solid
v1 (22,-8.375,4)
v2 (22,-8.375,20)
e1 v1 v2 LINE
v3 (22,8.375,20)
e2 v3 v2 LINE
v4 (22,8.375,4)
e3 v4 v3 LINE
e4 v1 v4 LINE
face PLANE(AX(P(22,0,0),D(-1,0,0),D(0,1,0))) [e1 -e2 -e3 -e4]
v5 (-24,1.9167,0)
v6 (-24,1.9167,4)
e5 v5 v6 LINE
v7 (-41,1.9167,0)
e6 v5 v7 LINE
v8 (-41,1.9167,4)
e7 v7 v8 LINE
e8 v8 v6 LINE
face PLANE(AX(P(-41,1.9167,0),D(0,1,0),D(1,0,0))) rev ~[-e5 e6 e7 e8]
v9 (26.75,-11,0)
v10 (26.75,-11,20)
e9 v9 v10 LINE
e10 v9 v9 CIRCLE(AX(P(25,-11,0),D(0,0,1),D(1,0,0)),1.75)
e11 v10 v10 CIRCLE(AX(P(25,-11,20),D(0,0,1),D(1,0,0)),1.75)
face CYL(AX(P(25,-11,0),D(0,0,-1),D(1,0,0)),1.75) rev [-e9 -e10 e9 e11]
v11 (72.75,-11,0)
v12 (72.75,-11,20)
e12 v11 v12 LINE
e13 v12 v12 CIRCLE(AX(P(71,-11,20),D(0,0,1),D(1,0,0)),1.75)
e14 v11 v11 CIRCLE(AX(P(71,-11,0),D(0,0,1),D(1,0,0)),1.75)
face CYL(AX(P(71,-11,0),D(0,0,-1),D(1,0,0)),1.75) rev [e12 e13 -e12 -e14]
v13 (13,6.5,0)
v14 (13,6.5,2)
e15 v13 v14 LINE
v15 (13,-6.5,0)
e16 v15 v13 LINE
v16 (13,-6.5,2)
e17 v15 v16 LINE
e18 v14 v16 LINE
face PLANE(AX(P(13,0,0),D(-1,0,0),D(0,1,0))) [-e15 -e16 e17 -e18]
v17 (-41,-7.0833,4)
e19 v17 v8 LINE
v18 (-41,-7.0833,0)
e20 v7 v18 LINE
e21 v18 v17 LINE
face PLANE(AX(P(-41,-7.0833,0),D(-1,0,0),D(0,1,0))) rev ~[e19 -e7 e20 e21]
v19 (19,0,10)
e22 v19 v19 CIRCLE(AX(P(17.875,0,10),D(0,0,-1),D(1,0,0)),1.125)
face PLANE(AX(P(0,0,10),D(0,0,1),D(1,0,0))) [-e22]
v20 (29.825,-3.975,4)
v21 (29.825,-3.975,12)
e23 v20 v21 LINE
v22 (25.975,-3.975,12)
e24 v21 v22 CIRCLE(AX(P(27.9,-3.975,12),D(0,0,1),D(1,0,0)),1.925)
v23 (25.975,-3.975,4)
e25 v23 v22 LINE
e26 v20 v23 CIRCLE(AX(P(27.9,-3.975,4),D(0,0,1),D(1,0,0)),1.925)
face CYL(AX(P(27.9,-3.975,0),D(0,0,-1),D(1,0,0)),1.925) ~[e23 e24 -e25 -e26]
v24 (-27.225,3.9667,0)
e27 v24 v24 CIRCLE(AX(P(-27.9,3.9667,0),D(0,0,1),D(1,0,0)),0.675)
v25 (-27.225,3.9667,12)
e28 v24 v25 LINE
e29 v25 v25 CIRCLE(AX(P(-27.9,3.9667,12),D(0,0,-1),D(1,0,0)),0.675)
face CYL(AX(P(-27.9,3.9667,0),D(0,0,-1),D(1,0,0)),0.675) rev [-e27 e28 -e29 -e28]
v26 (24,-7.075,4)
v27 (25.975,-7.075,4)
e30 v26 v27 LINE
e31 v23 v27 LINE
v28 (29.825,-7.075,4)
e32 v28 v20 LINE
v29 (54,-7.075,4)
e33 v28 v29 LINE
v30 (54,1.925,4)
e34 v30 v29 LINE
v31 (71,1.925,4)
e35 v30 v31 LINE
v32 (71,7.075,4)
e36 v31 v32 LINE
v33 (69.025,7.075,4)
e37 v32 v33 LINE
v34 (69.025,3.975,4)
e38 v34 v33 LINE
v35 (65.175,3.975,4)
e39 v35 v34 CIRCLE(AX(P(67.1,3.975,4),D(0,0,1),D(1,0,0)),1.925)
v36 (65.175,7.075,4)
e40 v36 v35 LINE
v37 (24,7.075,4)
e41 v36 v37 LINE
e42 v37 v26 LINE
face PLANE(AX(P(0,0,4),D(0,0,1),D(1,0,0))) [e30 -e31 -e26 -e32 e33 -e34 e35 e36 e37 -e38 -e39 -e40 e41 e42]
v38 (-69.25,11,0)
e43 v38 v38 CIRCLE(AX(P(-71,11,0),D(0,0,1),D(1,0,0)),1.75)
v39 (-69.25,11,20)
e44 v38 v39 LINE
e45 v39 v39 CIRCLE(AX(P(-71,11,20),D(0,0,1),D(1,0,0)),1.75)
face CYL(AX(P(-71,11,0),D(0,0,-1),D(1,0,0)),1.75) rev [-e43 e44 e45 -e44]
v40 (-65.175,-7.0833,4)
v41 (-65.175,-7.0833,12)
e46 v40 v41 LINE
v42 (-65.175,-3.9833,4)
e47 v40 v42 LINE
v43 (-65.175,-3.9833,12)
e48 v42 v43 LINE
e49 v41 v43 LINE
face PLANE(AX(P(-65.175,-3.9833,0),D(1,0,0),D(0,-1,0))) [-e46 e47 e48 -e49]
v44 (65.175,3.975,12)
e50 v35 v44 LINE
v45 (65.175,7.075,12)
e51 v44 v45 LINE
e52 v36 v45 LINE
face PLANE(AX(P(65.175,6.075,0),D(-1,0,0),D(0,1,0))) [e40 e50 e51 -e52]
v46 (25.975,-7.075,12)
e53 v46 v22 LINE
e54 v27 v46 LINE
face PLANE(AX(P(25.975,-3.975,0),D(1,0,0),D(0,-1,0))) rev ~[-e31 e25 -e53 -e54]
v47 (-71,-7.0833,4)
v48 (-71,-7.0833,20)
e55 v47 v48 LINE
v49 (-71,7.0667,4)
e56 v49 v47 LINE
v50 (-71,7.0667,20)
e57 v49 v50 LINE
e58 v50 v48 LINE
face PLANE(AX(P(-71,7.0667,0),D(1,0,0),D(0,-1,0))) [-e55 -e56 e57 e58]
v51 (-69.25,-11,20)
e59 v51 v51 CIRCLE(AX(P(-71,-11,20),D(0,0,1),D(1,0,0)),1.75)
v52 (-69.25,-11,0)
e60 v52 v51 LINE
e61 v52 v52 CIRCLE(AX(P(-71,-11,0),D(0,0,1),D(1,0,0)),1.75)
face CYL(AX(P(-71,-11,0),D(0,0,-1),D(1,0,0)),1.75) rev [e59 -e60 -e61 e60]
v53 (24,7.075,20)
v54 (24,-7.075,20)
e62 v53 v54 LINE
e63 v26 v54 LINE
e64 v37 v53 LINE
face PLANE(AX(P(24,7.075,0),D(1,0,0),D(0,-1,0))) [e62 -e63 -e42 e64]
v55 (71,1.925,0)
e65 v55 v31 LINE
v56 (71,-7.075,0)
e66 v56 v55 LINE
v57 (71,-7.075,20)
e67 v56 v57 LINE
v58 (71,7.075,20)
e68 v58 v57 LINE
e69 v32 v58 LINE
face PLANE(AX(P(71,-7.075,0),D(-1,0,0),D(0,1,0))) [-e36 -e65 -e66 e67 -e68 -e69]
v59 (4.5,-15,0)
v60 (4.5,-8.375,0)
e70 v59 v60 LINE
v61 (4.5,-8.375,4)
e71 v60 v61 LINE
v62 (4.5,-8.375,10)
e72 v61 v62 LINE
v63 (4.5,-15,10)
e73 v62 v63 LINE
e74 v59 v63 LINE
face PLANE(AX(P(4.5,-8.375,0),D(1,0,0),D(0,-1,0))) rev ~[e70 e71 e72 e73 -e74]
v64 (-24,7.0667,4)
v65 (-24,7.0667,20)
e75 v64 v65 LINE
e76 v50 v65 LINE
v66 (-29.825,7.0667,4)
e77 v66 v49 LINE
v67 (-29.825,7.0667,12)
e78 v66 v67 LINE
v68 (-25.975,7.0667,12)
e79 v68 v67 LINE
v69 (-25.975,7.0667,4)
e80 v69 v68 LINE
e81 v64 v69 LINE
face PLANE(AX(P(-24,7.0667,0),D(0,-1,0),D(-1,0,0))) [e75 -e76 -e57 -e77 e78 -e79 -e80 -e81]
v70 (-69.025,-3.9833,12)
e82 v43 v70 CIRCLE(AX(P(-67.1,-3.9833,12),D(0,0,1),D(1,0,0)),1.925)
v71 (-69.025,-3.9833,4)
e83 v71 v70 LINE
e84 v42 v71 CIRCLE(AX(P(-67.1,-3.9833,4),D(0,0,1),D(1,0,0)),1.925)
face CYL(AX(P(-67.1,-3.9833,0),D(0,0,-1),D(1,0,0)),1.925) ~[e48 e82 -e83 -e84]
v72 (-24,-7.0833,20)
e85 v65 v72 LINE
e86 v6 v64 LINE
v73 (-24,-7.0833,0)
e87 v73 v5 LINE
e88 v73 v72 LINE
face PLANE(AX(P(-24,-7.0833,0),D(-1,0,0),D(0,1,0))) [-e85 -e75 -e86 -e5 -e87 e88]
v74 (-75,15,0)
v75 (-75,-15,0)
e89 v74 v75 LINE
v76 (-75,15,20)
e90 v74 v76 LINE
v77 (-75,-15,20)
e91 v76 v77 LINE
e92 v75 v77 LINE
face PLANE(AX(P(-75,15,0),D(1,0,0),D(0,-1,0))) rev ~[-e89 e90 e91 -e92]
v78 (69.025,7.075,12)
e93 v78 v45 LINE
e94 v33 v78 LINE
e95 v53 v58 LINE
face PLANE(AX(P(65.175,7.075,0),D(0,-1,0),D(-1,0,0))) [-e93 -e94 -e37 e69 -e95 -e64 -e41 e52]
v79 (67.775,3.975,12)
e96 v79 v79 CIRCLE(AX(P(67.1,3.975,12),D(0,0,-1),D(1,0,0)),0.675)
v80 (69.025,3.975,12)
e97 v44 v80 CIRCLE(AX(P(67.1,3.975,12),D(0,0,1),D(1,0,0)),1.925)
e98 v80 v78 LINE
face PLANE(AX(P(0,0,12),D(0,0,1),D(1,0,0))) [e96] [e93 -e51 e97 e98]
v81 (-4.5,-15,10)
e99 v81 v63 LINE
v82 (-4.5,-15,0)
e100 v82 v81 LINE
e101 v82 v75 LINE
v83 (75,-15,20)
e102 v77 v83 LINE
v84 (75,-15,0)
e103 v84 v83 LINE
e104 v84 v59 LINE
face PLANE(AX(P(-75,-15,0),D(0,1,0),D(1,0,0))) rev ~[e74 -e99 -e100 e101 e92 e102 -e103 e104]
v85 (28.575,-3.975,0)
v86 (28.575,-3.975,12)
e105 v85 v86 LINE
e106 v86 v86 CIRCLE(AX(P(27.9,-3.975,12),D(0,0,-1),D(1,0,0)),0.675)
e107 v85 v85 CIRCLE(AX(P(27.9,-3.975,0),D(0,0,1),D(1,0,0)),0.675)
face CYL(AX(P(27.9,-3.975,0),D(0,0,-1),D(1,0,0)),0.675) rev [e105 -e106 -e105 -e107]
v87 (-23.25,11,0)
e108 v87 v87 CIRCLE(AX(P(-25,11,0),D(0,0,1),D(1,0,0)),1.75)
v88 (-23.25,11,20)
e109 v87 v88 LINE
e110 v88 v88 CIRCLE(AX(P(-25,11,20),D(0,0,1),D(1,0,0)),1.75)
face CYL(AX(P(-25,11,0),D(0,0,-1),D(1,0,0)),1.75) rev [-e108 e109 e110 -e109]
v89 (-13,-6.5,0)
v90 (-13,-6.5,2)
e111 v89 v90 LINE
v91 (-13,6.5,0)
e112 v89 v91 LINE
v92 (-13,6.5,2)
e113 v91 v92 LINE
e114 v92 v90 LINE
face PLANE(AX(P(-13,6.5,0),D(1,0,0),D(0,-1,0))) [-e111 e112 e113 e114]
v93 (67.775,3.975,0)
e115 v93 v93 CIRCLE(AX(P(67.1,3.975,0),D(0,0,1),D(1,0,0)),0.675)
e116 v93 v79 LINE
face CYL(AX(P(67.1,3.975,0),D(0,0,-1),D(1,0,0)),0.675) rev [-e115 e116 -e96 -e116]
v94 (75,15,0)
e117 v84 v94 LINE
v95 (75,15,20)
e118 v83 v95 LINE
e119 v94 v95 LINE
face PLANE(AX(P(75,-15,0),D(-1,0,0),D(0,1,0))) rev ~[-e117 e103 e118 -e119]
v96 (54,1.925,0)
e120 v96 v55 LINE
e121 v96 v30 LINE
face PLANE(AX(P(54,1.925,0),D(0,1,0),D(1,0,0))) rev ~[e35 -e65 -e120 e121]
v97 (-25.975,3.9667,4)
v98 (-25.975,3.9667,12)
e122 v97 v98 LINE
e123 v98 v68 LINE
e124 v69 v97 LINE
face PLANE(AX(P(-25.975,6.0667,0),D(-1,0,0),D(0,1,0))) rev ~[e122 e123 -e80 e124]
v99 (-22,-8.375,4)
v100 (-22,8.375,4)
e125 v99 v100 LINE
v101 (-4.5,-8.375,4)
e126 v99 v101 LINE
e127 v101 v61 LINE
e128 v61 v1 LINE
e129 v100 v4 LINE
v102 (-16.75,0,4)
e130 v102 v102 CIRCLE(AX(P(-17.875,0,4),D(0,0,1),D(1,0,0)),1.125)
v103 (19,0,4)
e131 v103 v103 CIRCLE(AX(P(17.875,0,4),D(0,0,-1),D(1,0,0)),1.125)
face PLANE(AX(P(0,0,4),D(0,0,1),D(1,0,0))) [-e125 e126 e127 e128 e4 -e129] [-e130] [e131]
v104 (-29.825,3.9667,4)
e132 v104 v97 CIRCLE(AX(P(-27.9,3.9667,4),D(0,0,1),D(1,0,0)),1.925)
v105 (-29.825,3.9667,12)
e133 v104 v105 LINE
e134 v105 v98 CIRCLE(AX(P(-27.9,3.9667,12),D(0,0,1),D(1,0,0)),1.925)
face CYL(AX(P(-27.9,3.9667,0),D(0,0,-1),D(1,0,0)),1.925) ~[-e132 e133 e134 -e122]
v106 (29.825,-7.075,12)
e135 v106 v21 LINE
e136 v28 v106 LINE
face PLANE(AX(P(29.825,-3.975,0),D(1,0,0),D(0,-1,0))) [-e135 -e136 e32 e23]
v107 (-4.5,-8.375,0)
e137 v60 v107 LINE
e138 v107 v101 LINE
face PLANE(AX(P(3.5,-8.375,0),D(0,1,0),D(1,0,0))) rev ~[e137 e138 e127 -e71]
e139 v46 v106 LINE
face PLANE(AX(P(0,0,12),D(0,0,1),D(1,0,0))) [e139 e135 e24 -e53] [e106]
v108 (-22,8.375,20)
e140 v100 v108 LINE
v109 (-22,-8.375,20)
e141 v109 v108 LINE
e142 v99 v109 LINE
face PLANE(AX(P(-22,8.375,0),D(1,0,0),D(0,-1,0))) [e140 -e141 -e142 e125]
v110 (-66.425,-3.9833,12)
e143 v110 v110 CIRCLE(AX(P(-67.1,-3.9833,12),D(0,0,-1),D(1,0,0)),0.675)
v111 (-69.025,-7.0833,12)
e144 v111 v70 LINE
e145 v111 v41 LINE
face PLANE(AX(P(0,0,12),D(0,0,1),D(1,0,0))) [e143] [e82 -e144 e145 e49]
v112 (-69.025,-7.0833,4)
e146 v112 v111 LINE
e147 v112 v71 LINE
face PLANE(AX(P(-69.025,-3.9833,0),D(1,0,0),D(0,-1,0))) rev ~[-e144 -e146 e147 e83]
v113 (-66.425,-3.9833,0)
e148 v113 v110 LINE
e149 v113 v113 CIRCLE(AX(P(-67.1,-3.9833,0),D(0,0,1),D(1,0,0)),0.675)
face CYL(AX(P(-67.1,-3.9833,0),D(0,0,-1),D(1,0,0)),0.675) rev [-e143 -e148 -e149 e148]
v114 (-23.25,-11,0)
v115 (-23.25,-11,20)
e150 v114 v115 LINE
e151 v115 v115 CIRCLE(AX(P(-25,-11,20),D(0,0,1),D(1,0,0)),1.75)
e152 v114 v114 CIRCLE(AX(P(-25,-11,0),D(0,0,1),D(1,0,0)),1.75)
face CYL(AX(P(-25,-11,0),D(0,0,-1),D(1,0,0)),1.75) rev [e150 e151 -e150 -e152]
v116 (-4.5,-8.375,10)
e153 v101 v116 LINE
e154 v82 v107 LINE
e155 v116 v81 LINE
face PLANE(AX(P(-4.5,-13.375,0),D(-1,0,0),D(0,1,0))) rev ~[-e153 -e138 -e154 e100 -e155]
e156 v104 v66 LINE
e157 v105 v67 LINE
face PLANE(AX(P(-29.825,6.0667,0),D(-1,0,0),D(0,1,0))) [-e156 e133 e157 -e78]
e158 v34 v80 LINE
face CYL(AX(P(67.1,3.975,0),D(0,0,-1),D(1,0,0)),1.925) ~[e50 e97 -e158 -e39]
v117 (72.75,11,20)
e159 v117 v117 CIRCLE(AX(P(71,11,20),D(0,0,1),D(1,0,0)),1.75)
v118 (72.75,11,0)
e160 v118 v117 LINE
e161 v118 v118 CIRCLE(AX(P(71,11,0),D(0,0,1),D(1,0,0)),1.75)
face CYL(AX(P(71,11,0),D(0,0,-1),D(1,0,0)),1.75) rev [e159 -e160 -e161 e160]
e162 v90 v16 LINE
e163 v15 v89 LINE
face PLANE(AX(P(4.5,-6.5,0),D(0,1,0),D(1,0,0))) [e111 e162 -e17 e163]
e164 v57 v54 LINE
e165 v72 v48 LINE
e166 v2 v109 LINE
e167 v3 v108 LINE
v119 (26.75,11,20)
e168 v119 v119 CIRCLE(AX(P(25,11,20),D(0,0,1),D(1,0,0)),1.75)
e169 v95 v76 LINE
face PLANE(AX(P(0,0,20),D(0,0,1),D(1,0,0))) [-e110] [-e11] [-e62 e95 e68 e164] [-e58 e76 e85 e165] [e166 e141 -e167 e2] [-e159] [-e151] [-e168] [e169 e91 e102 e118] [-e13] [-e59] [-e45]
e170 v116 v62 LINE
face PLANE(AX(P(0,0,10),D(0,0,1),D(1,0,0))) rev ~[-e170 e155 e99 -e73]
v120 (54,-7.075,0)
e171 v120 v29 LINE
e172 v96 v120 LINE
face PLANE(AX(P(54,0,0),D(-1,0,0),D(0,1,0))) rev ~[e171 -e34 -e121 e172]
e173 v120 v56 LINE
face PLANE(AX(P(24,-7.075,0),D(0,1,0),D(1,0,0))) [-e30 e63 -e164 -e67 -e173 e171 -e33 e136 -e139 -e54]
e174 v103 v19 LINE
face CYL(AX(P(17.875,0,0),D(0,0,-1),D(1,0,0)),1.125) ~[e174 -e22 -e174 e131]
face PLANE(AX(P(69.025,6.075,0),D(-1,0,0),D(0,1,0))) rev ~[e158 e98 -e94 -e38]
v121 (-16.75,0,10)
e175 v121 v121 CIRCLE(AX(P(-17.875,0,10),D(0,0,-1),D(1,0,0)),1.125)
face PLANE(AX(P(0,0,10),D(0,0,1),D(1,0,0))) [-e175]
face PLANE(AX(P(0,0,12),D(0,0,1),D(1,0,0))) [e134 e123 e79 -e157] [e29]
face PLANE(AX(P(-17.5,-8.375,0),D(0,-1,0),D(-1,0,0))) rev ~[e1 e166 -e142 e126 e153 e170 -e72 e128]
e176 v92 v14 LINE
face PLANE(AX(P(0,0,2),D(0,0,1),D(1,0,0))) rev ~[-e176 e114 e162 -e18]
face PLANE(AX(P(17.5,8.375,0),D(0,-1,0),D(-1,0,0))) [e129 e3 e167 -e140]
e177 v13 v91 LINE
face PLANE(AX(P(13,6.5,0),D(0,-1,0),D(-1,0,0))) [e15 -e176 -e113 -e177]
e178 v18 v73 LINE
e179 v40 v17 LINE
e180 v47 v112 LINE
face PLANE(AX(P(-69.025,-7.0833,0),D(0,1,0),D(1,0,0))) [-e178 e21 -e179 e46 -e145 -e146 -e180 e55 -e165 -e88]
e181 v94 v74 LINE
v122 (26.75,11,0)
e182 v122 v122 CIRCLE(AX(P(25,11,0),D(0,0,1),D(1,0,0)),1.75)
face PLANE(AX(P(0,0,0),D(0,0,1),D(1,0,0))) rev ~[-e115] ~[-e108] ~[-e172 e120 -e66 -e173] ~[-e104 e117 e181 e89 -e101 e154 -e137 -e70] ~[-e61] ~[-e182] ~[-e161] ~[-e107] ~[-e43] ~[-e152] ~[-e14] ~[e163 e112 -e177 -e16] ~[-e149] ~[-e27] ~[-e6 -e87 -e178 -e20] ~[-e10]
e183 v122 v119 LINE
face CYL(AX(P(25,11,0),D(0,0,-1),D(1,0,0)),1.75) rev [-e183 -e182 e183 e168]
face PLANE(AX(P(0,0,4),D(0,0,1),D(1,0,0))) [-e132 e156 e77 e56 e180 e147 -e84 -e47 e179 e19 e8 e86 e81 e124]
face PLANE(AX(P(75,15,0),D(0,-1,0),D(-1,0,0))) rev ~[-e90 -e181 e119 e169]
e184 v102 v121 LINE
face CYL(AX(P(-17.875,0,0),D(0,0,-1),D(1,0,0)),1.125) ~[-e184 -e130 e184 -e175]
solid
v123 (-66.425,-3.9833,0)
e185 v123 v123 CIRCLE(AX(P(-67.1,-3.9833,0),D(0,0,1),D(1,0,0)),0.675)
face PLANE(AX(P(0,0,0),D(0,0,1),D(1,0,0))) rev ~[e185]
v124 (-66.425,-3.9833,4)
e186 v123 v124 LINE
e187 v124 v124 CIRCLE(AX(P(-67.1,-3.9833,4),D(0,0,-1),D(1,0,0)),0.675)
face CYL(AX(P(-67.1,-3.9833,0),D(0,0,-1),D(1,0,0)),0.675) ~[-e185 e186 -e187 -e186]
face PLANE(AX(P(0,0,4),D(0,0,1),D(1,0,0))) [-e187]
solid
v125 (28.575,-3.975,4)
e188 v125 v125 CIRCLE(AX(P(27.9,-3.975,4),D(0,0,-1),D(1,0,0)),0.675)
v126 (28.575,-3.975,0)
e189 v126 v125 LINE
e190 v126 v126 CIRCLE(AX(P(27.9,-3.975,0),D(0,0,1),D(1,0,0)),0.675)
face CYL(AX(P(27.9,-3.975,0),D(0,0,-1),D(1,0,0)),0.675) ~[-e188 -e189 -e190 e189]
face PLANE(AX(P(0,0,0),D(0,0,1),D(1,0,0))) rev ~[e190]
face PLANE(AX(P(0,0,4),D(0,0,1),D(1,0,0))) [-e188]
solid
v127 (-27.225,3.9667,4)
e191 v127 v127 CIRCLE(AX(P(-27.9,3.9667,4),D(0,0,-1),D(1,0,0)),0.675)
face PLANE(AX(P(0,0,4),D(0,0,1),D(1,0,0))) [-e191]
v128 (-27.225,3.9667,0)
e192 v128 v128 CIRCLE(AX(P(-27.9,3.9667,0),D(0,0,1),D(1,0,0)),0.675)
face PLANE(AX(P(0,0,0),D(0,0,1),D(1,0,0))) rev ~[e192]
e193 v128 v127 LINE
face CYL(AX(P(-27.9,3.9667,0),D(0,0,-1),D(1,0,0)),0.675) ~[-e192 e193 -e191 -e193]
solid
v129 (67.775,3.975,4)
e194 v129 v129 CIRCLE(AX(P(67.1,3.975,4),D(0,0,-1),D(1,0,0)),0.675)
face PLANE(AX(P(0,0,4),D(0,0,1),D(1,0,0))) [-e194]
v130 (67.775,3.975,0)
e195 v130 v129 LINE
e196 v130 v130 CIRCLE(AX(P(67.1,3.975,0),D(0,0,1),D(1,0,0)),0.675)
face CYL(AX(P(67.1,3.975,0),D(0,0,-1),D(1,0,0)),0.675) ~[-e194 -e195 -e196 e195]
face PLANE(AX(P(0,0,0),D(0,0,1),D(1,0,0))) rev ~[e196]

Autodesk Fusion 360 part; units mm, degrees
sketch "Sketch1" plane through (0, 0, 0) normal (0, 0, 1) x (1, 0, 0)
  line L0 (-70, -6.0833) -> (-25, -6.0833)
  line L1 (-25, -6.0833) -> (-25, 6.0667)
  line L2 (-25, 6.0667) -> (-70, 6.0667)
  line L3 (-70, 6.0667) -> (-70, -6.0833)
  circle A0 centre (-27.9, 3.9667) radius 0.925
  line L4 (-70, -0.0083) -> (-25, -0.0083)
  line L5 (-47.5, 6.0667) -> (-47.5, -6.0833)
  circle A1 centre (-67.1, -3.9833) radius 0.925
  line L6 (16.5, 7.375) -> (-16.5, 7.375)
  line L7 (-16.5, -7.375) -> (16.5, -7.375)
  line L8 (16.5, -7.375) -> (16.5, 7.375)
  line L9 (19, 0) -> (21, 0)
  line L10 (16.5, 0) -> (19, 0)
  circle A2 centre (17.875, 0) radius 3.125
  circle A3 centre (17.875, 0) radius 1.125
  line L11 (-16.5, 7.375) -> (-16.5, -7.375)
  line L12 (3.5, -12.375) -> (-3.5, -7.375) construction
  line L13 (-19, 0) -> (-21, 0)
  line L14 (0, 7.375) -> (0, -12.375)
  line L15 (3.5, -7.375) -> (3.5, -12.375)
  line L16 (-3.5, -12.375) -> (3.5, -7.375) construction
  circle A4 centre (-17.875, 0) radius 3.125
  circle A5 centre (-17.875, 0) radius 1.125
  line L17 (-16.5, 0) -> (16.5, 0)
  line L18 (-16.5, 0) -> (-19, 0)
  line L19 (3.5, -12.375) -> (-3.5, -12.375)
  line L20 (-3.5, -7.375) -> (3.5, -7.375)
  line L21 (-3.5, -12.375) -> (-3.5, -7.375)
  line L22 (75, 15) -> (-75, 15)
  line L23 (-75, 15) -> (-75, -15)
  line L24 (-75, -15) -> (75, -15)
  line L25 (75, -15) -> (75, 15)
  line L26 (75, 15) -> (-75, -15) construction
  line L27 (-75, 15) -> (75, -15) construction
  line L28 (-24, 7.0667) -> (-71, 7.0667)
  line L29 (-71, 7.0667) -> (-71, -7.0833)
  line L30 (-71, -7.0833) -> (-24, -7.0833)
  line L31 (-24, -7.0833) -> (-24, 7.0667)
  line L32 (-4.5, -6.375) -> (4.5, -6.375)
  line L33 (4.5, -6.375) -> (4.5, -13.375)
  line L34 (4.5, -13.375) -> (-4.5, -13.375)
  line L35 (-4.5, -13.375) -> (-4.5, -6.375)
  line L36 (-21, 0) -> (-22, 0)
  line L37 (-17.5, -8.375) -> (17.5, -8.375)
  line L38 (17.5, -8.375) -> (17.5, 8.375)
  line L39 (17.5, 8.375) -> (-17.5, 8.375)
  line L40 (-17.5, 8.375) -> (-17.5, -8.375)
  line L41 (-22, 7.375) -> (-22, 0)
  line L42 (-17.5, -8.375) -> (-22, -8.375)
  line L43 (-22, -8.375) -> (-22, 0)
  line L44 (-17.5, 8.375) -> (-22, 8.375)
  line L45 (-22, 8.375) -> (-22, 7.375)
  line L46 (21, 0) -> (22, 0)
  line L47 (22, 0) -> (22, 8.375)
  line L48 (22, 8.375) -> (17.5, 8.375)
  line L49 (22, 0) -> (22, -8.375)
  line L50 (22, -8.375) -> (17.5, -8.375)
  circle A6 centre (-67.1, -3.9833) radius 0.675
  circle A7 centre (-27.9, 3.9667) radius 0.675
  circle A8 centre (-27.9, 3.9667) radius 1.925
  circle A9 centre (-67.1, -3.9833) radius 1.925
  line L51 (12, 5.5) -> (-12, 5.5)
  line L52 (-12, 5.5) -> (-12, -5.5)
  line L53 (-12, -5.5) -> (12, -5.5)
  line L54 (12, -5.5) -> (12, 5.5)
  line L55 (12, 5.5) -> (-12, -5.5) construction
  line L56 (-12, 5.5) -> (12, -5.5) construction
  circle A10 centre (-9.2, 0) radius 1.5
  line L57 (-7.7, 0) -> (-6.7, 0)
  line L58 (-6.7, 0) -> (-6.7, -5.5)
  line L59 (-6.7, 0) -> (-6.7, 5.5)
  line L60 (-13, -6.5) -> (13, -6.5)
  line L61 (13, -6.5) -> (13, 6.5)
  line L62 (13, 6.5) -> (-13, 6.5)
  line L63 (-13, 6.5) -> (-13, -6.5)
  circle A11 centre (-71, -11) radius 1.75
  circle A12 centre (71, -11) radius 1.75
  circle A13 centre (-71, 11) radius 1.75
  circle A14 centre (71, 11) radius 1.75
  circle A15 centre (-25, 11) radius 1.75
  circle A16 centre (25, 11) radius 1.75
  circle A17 centre (-25, -11) radius 1.75
  circle A18 centre (25, -11) radius 1.75
  line L64 (-27.9, 3.9667) -> (-29.825, 3.9667)
  line L65 (-29.825, 3.9667) -> (-29.825, 7.0667)
  line L66 (-27.9, 3.9667) -> (-25.975, 3.9667)
  line L67 (-25.975, 3.9667) -> (-25.975, 7.0667)
  line L68 (-24, -7.0833) -> (-41, -7.0833)
  line L69 (-41, -7.0833) -> (-41, 1.9167)
  line L70 (-41, 1.9167) -> (-24, 1.9167)
  line L71 (-24, 1.9167) -> (-24, -7.0833)
  line L72 (-67.1, -3.9833) -> (-65.175, -3.9833)
  line L73 (-67.1, -3.9833) -> (-69.025, -3.9833)
  line L74 (-65.175, -3.9833) -> (-65.175, -7.0833)
  line L75 (-69.025, -3.9833) -> (-69.025, -7.0833)
  line L76 (25, 6.075) -> (25, -6.075)
  line L77 (25, -6.075) -> (70, -6.075)
  line L78 (70, 6.075) -> (25, 6.075)
  line L79 (71, -7.075) -> (71, 7.075)
  line L80 (24, 7.075) -> (24, -7.075)
  line L81 (24, -7.075) -> (71, -7.075)
  line L82 (71, 7.075) -> (24, 7.075)
  line L83 (25, 0) -> (70, 0)
  line L84 (47.5, 6.075) -> (47.5, -6.075)
  line L85 (71, -7.075) -> (54, -7.075)
  line L86 (54, -7.075) -> (54, 1.925)
  line L87 (71, 1.925) -> (71, -7.075)
  line L88 (54, 1.925) -> (71, 1.925)
  line L89 (25.975, -3.975) -> (25.975, -7.075)
  circle A19 centre (27.9, -3.975) radius 1.925
  circle A20 centre (27.9, -3.975) radius 0.925
  circle A21 centre (27.9, -3.975) radius 0.675
  line L90 (27.9, -3.975) -> (25.975, -3.975)
  line L91 (27.9, -3.975) -> (29.825, -3.975)
  line L92 (29.825, -3.975) -> (29.825, -7.075)
  line L93 (67.1, 3.975) -> (65.175, 3.975)
  circle A22 centre (67.1, 3.975) radius 1.925
  line L94 (65.175, 3.975) -> (65.175, 7.075)
  circle A23 centre (67.1, 3.975) radius 0.675
  circle A24 centre (67.1, 3.975) radius 0.925
  line L95 (67.1, 3.975) -> (69.025, 3.975)
  line L96 (69.025, 3.975) -> (69.025, 7.075)
  line L97 (4.5, -13.375) -> (4.5, -15)
  line L98 (-4.5, -13.375) -> (-4.5, -15)
  point P0 (-47.5, -0.0083)
  dimension "d2" = 12.15
  dimension "d5" = 1.85
  dimension "d22" = 1.85
  dimension "d47" = 2
  dimension "d48" = 2
  dimension "d49" = 33
  dimension "d51" = 2.5
  dimension "d52" = 2.5
  dimension "d53" = 2.25
  dimension "d54" = 2.25
  dimension "d55" = 7
  dimension "d56" = 5
  dimension "d57" = 150
  dimension "d58" = 30
  dimension "d63" = 1
  dimension "d83" = 24
  dimension "d84" = 11
  dimension "d85" = 3
  dimension "d87" = 1
  dimension "d93" = 3.5
  dimension "d94" = 3.5
  dimension "d96" = 3.5
  dimension "d97" = 3.5
  dimension "d98" = 3.5
  dimension "d99" = 3.5
  dimension "d100" = 3.5
  dimension "d105" = 17
  dimension "d106" = 9
  dimension "d107" = 12.15
  dimension "d108" = 1.85
  dimension "d109" = 1.85
  dimension "d110" = 17
  dimension "d111" = 9
extrude "Extrude3" add sketch "Sketch1" along normal blind 20 contours L22 L23 L24 L25 L33 L35 L37 L39 L41 L42 L43 L44 L45 L47 L48 L49 L50 L97 L98 | L15 L19 L21 L33 L34 L35 L37 | L14 L15 L19 L37 | L24 L34 L97 L98 | L14 L19 L21 L37 makes body 1
extrude "Extrude4" add sketch "Sketch1" along normal blind 4 contours L0 L3 L4 L5 A9 L74 L75 | L0 L2 L3 L28 L29 L30 L65 L75 | L2 L3 L4 L5 | L0 L30 L69 L74 | L1 L2 L4 L5 A8 L65 L67 L69 L70 | L0 L4 L5 L69 | A6 L72 L73 | A6 L72 L73 | L1 L2 L28 L31 L67 L70 | A7 L64 L66 | A7 L64 L66 | L6 L8 A2 L14 L17 L61 L62 | L6 L8 A2 L11 A4 L38 L39 L40 | L6 L11 L14 A4 L17 L62 L63 | L8 L10 A2 A3 L38 | L8 A2 L17 | L14 L17 L51 L54 L61 L62 | L14 L17 L51 L52 L62 L63 | L8 L10 A2 A3 L38 | L8 A2 L17 | A2 L38 L46 L47 L48 | L9 A2 A3 L38 | L7 L8 A2 L17 L33 L60 L61 | L11 A4 L17 | L11 A4 A5 L18 L40 | L14 L17 L51 L54 | L14 L17 L51 L59 | L7 L8 A2 L33 L37 L38 | L9 A2 A3 L38 | A2 L38 L46 L49 L50 | L14 L17 L32 L33 L53 L54 L60 L61 | L11 A4 L17 | L11 A4 A5 L18 L40 | L7 L11 A4 L17 L35 L60 L63 | L13 A4 A5 L40 | A4 L36 L40 L41 L44 L45 | L14 L17 L53 L54 | L14 L17 L53 L58 | L17 L51 L52 A10 L57 L59 | L14 L17 L32 L35 L52 L53 L60 L63 | L7 L11 A4 L35 L37 L40 | L13 A4 A5 L40 | A4 L36 L40 L42 L43 | L17 L52 L53 A10 L57 L58 | L7 L15 L33 L37 | L7 L14 L20 L33 L60 | L14 L32 L33 L60 | L14 L32 L35 L60 | L17 A10 | L17 A10 | L7 L14 L20 L35 L60 | L7 L14 L15 L20 L37 | L7 L21 L35 L37 | L7 L14 L20 L21 L37 | L76 L78 L83 L84 | L76 L77 L78 L80 L81 L82 L89 L94 | L76 L77 L83 L84 L89 A19 L92 | L78 L79 L82 L83 L84 L86 L88 A22 L94 L96 | L77 L83 L84 L86 | L77 L81 L86 L92 | L93 A23 L95 | L93 A23 L95 | A21 L90 L91 | A21 L90 L91 bodies 1 makes body 2 at (-27.685, 4.6066, 1.3333) makes body 3 at (-67.4079, -4.584, 2.6667) makes body 4 at (28.115, -3.3351, 1.3333) makes body 5 at (67.3776, 4.5903, 2.6667)
extrude "Extrude5" add sketch "Sketch1" along normal blind 12 contours L0 A9 L74 L75 | L0 L30 L74 L75 | A1 A9 L72 L73 | A1 A9 L72 L73 | A1 A6 L72 L73 | A1 A6 L72 L73 | L2 L28 L65 L67 | L2 A8 L65 L67 | A0 A8 L64 L66 | A0 A8 L64 L66 | A0 A7 L64 L66 | A0 A7 L64 L66 | L78 L82 L94 L96 | L78 A22 L94 L96 | L77 L89 A19 L92 | L77 L81 L89 L92 | L93 A22 A24 L95 | L93 A22 A24 L95 | A19 A20 L90 L91 | A19 A20 L90 L91 | L93 A23 A24 L95 | L93 A23 A24 L95 | A20 A21 L90 L91 | A20 A21 L90 L91 bodies 1
extrude "Extrude6" cut sketch "Sketch1" along normal blind 2 contours L14 L17 L51 L54 L61 L62 | L14 L17 L51 L52 L62 L63 | L14 L17 L51 L54 | L14 L17 L51 L59 | L14 L17 L32 L33 L53 L54 L60 L61 | L14 L17 L53 L54 | L14 L17 L53 L58 | L17 L51 L52 A10 L57 L59 | L14 L17 L32 L35 L52 L53 L60 L63 | L17 L52 L53 A10 L57 L58 | L14 L32 L33 L60 | L14 L32 L35 L60 | L17 A10 | L17 A10 bodies 1
extrude "Extrude7" cut sketch "Sketch1" along normal blind 10 contours L15 L19 L21 L33 L34 L35 L37 | L14 L15 L19 L37 | L24 L34 L97 L98 | L14 L19 L21 L37 bodies 1
extrude "Extrude9" add sketch "Sketch1" along normal blind 10 contours L10 A3 L38 | L10 A3 L38 | L10 A3 L38 | L10 A3 L38 | A5 L18 L40 | A5 L18 L40 | A5 L18 L40 | A5 L18 L40 bodies 1
